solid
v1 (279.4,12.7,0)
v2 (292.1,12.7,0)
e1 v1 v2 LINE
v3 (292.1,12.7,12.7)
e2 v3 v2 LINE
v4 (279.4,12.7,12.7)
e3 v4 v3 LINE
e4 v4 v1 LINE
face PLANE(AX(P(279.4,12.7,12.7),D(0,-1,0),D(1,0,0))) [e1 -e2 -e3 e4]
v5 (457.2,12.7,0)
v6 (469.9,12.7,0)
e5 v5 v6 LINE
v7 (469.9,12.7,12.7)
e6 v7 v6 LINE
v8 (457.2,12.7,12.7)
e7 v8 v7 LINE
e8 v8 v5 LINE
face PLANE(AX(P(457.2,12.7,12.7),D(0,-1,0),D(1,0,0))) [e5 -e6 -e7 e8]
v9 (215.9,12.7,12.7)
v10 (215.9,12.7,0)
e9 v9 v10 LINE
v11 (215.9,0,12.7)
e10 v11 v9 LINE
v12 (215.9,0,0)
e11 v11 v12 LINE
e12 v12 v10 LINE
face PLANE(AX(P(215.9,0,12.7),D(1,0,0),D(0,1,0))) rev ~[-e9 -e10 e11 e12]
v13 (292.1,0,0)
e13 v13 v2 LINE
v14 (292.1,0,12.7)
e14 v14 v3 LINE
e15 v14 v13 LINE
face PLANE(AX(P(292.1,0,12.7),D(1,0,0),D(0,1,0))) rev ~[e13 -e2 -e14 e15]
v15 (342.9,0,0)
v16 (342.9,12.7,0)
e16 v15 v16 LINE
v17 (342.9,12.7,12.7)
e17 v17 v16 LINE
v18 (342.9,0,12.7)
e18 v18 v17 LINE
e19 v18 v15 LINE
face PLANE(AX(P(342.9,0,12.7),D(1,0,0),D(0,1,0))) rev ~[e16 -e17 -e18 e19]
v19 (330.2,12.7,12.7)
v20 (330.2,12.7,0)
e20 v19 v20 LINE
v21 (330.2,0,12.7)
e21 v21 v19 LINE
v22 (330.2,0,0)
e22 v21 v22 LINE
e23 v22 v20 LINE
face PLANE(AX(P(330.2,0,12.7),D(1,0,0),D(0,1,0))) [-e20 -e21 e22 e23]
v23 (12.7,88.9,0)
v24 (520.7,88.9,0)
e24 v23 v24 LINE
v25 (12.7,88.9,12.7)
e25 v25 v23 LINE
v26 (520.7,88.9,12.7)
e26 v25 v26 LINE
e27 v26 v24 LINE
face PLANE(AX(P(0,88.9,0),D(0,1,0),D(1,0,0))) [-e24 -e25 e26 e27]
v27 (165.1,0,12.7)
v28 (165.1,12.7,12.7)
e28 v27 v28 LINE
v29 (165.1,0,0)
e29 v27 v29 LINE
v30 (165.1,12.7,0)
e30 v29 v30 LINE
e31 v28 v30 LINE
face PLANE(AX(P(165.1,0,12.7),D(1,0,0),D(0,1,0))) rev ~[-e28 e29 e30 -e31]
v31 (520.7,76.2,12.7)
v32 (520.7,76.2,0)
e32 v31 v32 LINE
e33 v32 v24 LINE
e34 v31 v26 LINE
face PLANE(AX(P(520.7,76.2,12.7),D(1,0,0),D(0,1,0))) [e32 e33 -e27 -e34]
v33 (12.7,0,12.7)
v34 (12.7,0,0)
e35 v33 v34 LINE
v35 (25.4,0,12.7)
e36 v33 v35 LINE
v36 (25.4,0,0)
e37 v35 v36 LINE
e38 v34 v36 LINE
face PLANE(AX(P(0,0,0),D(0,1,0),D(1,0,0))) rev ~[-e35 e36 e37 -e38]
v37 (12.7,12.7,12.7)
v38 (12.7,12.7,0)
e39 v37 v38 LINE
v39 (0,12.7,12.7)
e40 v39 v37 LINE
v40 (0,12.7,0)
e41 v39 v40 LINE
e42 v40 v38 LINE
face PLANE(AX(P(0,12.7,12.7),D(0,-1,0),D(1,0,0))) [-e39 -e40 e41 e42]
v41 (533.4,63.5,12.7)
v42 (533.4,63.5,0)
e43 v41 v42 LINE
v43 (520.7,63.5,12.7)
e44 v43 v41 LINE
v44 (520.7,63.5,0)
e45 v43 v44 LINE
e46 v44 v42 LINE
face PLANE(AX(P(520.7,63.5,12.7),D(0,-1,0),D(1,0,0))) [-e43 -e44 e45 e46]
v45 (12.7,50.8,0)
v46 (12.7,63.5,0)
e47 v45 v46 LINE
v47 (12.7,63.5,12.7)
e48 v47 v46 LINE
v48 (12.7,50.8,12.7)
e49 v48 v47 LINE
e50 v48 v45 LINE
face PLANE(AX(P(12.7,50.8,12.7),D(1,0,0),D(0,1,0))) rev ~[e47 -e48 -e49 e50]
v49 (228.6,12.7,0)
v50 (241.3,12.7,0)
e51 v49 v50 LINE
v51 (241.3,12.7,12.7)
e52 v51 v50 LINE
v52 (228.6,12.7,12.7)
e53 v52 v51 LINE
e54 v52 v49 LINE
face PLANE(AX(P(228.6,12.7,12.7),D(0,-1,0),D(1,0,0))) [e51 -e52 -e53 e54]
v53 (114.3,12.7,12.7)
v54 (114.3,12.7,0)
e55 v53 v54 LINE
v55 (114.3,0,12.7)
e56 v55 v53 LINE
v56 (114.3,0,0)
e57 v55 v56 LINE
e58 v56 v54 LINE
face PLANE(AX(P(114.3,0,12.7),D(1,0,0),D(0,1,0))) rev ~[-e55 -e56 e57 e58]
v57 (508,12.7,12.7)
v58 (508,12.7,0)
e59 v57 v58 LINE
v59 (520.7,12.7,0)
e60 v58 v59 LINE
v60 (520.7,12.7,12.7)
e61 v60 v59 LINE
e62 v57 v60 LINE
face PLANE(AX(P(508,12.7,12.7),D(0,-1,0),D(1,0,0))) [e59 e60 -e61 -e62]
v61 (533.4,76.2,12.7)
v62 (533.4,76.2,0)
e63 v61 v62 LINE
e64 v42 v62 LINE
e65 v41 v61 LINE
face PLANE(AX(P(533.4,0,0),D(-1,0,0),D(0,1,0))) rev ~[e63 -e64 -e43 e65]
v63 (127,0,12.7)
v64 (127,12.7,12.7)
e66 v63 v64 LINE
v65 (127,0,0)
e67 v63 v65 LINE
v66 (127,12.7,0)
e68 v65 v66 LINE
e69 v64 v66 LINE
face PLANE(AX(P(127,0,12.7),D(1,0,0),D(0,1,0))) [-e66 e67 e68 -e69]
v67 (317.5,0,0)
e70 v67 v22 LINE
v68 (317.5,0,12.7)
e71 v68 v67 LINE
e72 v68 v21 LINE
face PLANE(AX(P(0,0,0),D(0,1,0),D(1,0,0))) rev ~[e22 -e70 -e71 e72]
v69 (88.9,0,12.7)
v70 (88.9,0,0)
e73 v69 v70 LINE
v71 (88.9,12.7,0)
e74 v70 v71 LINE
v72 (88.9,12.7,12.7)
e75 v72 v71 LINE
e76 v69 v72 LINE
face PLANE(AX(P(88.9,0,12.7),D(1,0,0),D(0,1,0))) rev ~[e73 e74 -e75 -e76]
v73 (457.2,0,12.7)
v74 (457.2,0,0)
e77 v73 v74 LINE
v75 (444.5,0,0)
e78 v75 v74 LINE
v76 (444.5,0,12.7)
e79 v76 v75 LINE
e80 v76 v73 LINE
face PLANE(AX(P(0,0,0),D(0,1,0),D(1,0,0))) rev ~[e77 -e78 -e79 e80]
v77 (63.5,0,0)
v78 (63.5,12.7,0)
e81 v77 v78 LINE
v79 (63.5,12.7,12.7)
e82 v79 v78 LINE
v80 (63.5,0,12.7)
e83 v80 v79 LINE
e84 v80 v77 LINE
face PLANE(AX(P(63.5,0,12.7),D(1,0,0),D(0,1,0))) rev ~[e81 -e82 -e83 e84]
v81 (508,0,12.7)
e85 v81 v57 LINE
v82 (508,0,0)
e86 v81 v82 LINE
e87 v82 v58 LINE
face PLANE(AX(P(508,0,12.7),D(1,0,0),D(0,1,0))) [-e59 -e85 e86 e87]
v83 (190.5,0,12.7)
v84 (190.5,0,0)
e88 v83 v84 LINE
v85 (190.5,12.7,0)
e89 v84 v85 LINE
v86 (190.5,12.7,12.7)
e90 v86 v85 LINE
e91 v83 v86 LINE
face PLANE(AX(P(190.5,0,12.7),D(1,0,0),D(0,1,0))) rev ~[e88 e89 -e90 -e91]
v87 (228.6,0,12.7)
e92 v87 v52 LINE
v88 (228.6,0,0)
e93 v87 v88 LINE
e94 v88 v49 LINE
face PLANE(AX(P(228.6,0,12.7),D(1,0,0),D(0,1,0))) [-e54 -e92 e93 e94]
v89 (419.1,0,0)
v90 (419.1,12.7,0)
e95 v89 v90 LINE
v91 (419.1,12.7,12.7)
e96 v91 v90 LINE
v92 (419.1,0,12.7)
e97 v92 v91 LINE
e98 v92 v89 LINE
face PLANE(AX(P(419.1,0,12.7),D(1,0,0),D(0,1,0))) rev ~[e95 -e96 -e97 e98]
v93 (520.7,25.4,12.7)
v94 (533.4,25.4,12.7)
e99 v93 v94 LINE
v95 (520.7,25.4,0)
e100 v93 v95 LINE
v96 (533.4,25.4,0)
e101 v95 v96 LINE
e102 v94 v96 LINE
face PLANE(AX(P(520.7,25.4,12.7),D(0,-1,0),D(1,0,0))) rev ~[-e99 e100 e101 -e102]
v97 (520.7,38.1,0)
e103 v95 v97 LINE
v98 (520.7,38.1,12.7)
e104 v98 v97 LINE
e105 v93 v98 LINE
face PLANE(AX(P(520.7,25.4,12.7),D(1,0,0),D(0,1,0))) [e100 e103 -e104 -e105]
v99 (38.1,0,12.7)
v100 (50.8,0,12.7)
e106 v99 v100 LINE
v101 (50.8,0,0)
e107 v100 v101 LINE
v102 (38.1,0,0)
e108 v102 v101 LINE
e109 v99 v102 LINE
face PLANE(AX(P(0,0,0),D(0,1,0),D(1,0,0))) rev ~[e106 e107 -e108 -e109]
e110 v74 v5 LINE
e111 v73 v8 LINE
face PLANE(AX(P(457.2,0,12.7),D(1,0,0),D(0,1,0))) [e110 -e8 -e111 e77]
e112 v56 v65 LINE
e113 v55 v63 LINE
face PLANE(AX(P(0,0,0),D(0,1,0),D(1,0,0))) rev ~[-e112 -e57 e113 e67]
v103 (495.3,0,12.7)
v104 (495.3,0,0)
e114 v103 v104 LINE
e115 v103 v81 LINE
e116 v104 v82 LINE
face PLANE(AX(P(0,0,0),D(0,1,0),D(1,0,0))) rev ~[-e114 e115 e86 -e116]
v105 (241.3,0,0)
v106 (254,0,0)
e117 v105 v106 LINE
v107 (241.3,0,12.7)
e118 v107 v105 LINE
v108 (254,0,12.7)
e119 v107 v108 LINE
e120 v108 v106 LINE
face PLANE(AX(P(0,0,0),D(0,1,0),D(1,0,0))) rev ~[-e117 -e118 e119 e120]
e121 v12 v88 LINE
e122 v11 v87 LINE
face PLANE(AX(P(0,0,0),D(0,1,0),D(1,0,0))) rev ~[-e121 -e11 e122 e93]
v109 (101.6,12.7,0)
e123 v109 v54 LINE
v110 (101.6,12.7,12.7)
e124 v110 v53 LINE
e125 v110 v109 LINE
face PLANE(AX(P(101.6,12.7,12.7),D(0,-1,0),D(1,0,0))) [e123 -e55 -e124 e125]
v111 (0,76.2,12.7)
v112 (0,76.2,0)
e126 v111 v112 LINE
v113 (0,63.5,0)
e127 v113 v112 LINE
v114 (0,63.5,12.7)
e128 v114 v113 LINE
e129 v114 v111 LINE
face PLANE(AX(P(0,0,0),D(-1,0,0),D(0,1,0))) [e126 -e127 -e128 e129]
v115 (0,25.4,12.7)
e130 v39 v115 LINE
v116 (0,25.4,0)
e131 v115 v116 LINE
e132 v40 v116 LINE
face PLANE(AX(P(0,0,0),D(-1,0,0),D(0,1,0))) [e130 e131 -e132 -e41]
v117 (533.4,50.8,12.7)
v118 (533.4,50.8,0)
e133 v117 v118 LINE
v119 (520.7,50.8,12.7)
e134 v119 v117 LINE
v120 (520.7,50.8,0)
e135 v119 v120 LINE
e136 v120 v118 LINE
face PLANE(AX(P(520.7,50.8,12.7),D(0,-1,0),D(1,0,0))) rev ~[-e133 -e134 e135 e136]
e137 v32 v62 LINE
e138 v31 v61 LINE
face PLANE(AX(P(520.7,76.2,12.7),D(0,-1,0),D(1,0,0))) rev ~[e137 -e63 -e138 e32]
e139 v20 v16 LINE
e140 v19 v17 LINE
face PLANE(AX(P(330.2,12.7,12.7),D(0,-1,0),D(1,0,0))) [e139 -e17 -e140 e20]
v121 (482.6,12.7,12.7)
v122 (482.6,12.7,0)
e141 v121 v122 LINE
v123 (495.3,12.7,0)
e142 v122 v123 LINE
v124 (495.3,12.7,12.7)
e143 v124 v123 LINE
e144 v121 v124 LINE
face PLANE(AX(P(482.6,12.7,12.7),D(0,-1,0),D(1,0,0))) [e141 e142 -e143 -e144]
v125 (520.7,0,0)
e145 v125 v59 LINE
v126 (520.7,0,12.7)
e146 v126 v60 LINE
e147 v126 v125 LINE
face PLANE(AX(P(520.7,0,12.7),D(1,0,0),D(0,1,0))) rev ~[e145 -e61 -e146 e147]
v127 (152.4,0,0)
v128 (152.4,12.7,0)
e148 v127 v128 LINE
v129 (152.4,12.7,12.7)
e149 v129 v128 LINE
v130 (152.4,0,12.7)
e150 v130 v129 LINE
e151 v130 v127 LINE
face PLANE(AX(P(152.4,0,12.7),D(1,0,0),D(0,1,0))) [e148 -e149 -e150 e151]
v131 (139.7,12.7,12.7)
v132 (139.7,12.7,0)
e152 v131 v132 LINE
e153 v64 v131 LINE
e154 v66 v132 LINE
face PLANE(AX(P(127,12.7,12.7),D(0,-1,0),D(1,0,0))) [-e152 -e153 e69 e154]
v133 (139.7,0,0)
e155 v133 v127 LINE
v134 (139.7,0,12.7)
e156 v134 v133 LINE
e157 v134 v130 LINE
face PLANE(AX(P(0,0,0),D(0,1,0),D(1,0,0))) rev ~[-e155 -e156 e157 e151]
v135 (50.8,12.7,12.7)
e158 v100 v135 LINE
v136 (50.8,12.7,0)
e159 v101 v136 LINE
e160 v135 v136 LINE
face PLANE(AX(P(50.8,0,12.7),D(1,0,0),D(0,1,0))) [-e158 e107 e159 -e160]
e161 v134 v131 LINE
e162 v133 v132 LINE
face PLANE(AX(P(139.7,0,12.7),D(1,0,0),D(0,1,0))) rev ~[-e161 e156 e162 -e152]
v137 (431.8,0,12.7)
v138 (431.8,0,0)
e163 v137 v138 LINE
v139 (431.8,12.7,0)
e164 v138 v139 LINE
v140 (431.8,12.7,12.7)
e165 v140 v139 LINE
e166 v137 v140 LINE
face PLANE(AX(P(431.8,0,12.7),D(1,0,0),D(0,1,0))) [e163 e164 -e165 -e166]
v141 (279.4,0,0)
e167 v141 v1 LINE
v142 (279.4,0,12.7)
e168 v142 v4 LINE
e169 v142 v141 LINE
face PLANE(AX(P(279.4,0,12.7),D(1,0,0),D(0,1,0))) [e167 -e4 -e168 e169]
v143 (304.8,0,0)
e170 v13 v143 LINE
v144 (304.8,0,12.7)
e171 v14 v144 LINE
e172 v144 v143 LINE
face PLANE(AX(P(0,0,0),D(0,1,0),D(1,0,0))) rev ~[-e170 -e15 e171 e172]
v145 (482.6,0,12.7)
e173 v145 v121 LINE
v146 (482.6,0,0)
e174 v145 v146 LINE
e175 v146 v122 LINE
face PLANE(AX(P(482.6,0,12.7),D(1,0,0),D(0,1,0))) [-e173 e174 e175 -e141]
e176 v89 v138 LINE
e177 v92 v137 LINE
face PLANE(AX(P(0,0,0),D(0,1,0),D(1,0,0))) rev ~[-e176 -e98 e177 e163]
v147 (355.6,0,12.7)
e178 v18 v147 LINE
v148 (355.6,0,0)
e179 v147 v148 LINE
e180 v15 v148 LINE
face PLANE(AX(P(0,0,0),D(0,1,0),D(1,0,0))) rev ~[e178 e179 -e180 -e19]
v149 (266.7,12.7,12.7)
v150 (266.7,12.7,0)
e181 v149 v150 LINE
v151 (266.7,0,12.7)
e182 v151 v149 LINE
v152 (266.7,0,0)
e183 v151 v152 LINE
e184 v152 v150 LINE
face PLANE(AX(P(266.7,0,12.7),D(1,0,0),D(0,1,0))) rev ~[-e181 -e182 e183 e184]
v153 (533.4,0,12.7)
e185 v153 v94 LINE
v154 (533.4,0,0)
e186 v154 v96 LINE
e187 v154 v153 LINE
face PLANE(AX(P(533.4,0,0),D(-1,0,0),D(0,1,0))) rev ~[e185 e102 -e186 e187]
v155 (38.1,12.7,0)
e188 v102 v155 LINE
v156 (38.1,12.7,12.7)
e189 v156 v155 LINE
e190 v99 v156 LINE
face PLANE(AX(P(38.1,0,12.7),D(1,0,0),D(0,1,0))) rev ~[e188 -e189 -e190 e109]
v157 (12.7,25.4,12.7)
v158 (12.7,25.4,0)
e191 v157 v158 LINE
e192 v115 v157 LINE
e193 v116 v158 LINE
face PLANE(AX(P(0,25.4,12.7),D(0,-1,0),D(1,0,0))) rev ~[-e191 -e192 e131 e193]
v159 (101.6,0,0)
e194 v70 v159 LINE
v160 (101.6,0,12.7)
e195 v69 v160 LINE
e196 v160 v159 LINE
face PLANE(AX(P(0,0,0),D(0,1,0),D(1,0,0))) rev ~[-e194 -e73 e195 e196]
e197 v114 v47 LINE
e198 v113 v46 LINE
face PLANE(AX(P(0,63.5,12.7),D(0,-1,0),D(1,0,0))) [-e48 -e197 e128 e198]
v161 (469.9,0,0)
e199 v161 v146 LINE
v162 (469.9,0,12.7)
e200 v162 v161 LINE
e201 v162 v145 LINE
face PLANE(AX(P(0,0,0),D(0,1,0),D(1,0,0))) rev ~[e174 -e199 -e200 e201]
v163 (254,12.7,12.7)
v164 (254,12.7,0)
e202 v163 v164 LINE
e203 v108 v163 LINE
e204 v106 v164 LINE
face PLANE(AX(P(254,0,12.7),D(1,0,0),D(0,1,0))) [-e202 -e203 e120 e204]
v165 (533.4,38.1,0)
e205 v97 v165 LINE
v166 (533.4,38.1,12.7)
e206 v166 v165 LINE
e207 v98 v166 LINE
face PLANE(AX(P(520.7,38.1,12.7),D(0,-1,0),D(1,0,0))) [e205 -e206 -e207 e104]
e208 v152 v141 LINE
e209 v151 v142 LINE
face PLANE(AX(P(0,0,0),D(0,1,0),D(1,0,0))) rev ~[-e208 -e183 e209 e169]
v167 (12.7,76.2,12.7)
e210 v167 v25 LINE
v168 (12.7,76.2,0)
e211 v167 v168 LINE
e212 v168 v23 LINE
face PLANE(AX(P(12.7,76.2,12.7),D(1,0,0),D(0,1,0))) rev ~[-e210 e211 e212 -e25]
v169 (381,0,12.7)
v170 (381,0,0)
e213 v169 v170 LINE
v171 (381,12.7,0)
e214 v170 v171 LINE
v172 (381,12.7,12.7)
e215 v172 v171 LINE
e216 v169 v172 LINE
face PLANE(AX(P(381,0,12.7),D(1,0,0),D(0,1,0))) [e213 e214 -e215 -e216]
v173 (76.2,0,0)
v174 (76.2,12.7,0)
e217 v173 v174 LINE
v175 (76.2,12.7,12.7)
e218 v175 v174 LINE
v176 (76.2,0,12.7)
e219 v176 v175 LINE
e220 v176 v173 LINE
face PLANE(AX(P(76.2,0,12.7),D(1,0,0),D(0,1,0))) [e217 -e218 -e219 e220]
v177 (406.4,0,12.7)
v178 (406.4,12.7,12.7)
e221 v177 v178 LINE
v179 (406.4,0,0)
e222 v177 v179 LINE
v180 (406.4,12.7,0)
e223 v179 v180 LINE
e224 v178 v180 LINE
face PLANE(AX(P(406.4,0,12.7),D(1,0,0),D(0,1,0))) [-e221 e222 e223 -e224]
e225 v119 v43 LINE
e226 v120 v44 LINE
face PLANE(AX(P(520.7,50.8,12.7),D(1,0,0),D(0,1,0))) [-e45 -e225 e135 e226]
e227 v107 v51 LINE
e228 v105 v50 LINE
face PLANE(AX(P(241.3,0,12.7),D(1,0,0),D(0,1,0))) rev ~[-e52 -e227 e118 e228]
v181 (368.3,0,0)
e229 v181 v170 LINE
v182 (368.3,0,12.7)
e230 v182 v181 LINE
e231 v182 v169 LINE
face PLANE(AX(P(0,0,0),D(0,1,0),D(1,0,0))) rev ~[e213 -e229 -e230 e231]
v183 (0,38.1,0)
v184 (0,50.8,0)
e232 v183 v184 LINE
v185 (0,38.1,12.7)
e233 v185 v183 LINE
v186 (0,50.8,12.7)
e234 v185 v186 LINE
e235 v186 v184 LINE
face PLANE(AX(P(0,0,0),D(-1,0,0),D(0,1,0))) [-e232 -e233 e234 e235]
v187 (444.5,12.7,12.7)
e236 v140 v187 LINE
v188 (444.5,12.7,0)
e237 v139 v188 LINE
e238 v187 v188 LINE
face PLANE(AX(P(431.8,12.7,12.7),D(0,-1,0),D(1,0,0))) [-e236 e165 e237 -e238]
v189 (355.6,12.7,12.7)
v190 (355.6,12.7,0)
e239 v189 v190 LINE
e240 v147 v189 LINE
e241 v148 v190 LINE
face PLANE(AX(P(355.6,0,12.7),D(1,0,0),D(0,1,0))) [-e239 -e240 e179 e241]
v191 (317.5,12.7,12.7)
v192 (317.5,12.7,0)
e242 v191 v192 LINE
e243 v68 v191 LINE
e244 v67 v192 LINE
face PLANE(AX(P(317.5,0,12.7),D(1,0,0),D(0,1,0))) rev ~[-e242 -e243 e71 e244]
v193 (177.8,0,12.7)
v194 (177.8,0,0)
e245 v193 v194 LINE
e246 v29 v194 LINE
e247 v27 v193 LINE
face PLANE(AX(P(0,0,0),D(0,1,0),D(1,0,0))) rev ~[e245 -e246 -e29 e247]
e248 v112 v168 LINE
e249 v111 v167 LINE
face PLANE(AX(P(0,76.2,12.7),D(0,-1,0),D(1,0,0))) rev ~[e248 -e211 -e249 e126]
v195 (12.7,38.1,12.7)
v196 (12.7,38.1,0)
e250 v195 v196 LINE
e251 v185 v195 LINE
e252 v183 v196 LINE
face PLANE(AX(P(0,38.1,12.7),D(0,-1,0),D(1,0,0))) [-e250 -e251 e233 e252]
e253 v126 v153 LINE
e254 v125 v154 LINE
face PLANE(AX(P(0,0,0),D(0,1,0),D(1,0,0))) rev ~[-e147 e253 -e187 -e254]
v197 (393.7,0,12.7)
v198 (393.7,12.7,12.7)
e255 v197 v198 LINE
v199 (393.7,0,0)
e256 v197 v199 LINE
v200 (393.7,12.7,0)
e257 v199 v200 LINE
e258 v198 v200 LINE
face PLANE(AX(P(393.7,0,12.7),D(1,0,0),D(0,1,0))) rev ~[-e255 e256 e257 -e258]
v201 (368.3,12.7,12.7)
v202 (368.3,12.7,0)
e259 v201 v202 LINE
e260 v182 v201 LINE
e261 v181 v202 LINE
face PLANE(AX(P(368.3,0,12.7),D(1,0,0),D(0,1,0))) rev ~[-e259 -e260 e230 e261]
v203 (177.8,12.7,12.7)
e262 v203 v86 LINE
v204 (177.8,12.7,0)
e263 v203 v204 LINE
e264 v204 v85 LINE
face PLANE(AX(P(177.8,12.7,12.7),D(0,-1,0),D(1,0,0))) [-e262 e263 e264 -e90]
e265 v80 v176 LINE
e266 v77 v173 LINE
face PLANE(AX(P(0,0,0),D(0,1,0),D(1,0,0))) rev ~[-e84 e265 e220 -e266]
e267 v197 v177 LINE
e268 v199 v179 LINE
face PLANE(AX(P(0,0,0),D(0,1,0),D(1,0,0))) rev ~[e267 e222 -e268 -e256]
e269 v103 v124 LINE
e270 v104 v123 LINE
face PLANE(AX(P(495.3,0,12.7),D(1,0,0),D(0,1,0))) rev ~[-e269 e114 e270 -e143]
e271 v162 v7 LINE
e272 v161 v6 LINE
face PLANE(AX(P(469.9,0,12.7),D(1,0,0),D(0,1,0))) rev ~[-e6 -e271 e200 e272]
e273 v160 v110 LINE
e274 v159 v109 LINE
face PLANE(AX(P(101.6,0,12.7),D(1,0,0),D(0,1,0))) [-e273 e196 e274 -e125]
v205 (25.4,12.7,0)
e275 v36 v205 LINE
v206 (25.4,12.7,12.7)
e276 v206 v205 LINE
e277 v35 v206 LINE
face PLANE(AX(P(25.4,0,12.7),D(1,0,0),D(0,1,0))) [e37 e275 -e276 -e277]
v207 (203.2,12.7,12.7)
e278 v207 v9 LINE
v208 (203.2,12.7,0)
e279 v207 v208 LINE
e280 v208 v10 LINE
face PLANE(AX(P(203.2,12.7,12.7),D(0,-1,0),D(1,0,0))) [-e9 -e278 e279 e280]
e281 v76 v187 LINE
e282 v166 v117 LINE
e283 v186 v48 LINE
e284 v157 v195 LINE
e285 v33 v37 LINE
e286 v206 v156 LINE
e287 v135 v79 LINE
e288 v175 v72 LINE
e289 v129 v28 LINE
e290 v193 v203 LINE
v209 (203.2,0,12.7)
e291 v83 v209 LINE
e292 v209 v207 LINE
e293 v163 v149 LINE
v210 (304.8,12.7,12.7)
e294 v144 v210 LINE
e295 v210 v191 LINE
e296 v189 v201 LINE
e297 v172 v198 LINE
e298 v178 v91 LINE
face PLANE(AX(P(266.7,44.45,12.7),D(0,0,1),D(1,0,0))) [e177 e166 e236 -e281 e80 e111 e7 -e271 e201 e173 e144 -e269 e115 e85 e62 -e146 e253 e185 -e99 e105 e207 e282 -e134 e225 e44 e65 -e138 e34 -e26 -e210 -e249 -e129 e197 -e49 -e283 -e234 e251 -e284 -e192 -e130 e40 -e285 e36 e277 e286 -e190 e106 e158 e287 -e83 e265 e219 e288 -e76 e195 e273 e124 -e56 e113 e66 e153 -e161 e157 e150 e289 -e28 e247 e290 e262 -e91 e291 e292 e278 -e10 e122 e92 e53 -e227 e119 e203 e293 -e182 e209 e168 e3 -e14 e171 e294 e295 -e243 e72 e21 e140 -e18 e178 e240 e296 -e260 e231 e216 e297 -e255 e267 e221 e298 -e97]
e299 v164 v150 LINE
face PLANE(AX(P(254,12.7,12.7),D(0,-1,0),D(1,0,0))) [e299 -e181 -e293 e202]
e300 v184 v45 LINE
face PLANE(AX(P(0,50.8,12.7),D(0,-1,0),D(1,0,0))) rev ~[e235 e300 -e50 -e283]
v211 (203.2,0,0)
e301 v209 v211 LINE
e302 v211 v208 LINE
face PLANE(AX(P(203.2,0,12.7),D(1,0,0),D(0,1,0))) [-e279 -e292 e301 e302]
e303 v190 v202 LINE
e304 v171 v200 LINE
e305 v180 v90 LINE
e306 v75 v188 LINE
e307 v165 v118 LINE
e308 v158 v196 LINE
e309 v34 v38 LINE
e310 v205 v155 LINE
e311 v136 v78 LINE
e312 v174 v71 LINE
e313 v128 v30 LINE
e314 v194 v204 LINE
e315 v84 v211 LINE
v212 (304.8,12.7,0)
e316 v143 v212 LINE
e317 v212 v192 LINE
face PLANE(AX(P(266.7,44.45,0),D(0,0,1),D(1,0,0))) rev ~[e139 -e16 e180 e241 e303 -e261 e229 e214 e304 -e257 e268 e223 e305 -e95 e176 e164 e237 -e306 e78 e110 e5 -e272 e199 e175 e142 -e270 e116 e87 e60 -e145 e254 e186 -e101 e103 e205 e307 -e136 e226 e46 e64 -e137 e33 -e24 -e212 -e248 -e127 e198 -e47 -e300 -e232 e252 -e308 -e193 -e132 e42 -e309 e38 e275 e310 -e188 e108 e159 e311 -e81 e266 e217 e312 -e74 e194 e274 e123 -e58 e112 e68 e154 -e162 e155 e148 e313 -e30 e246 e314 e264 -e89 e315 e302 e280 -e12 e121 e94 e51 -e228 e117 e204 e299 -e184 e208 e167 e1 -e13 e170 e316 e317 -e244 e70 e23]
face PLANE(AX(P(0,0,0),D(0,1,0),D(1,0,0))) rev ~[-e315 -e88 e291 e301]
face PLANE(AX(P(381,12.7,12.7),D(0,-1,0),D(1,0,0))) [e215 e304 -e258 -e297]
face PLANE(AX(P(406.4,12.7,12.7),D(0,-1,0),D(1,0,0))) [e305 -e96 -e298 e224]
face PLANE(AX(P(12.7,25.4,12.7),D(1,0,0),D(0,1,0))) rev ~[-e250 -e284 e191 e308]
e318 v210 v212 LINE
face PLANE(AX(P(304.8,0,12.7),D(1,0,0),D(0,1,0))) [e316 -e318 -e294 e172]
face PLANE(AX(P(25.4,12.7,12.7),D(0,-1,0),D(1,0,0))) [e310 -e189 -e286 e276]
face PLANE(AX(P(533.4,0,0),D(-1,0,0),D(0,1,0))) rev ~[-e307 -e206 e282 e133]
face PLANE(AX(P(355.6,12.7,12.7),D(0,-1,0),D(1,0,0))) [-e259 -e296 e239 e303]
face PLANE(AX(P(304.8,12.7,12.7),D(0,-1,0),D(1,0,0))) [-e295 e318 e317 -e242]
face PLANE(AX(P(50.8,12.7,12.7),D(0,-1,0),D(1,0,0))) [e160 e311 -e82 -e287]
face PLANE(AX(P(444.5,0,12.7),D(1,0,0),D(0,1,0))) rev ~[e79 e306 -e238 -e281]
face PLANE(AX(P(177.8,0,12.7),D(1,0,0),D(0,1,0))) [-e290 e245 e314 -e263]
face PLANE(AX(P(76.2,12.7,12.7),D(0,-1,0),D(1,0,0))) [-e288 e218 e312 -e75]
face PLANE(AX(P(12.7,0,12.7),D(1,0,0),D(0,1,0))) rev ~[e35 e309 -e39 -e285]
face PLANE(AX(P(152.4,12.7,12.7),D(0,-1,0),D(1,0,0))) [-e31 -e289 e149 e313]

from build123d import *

# Parameters (mm, degrees)
F0_W     = 533.4
F0_H     = 88.9
F1_DEPTH = 12.7
F2_W     = 12.7
F2_H     = 12.7
F3_DEPTH = 25.4
F4_W     = 12.7
F4_H     = 12.7
F5_DEPTH = 25.4
F6_W     = 12.7
F6_H     = 12.7
F7_DEPTH = 25.4


with BuildPart() as f1:
    # F0 (on Top) → F1 (new body)
    with BuildSketch(Plane.XY):
        with Locations((266.7, 44.45)):
            Rectangle(F0_W, F0_H)
    extrude(amount=F1_DEPTH)

    # F2 (on face) → F3 (cut)
    with BuildSketch(Plane.XY.offset(12.7)):
        with Locations((6.35, 6.35)):
            Rectangle(F2_W, F2_H)
        with Locations((6.35, 31.75)):
            Rectangle(F2_W, F2_H)
        with Locations((6.35, 82.55)):
            Rectangle(F2_W, F2_H)
        with Locations((6.35, 57.15)):
            Rectangle(F2_W, F2_H)
    extrude(amount=-F3_DEPTH, mode=Mode.SUBTRACT)

    # F4 (on face) → F5 (cut)
    with BuildSketch(Plane.XY.offset(12.7)):
        with Locations((82.55, 6.35)):
            Rectangle(F4_W, F4_H)
        with Locations((133.35, 6.35)):
            Rectangle(F4_W, F4_H)
        with Locations((158.75, 6.35)):
            Rectangle(F4_W, F4_H)
        with Locations((184.15, 6.35)):
            Rectangle(F4_W, F4_H)
        with Locations((57.15, 6.35)):
            Rectangle(F4_W, F4_H)
        with Locations((31.75, 6.35)):
            Rectangle(F4_W, F4_H)
        with Locations((107.95, 6.35)):
            Rectangle(F4_W, F4_H)
        with Locations((209.55, 6.35)):
            Rectangle(F4_W, F4_H)
        with Locations((234.95, 6.35)):
            Rectangle(F4_W, F4_H)
        with Locations((260.35, 6.35)):
            Rectangle(F4_W, F4_H)
        with Locations((285.75, 6.35)):
            Rectangle(F4_W, F4_H)
        with Locations((311.15, 6.35)):
            Rectangle(F4_W, F4_H)
        with Locations((336.55, 6.35)):
            Rectangle(F4_W, F4_H)
        with Locations((361.95, 6.35)):
            Rectangle(F4_W, F4_H)
        with Locations((387.35, 6.35)):
            Rectangle(F4_W, F4_H)
        with Locations((412.75, 6.35)):
            Rectangle(F4_W, F4_H)
        with Locations((438.15, 6.35)):
            Rectangle(F4_W, F4_H)
        with Locations((463.55, 6.35)):
            Rectangle(F4_W, F4_H)
        with Locations((488.95, 6.35)):
            Rectangle(F4_W, F4_H)
        with Locations((514.35, 6.35)):
            Rectangle(F4_W, F4_H)
    extrude(amount=-F5_DEPTH, mode=Mode.SUBTRACT)

    # F6 (on face) → F7 (cut)
    with BuildSketch(Plane.XY.offset(12.7)):
        with Locations((527.05, 82.55)):
            Rectangle(F6_W, F6_H)
        with Locations((527.05, 57.15)):
            Rectangle(F6_W, F6_H)
        with Locations((527.05, 31.75)):
            Rectangle(F6_W, F6_H)
    extrude(amount=-F7_DEPTH, mode=Mode.SUBTRACT)


solid = f1.part
